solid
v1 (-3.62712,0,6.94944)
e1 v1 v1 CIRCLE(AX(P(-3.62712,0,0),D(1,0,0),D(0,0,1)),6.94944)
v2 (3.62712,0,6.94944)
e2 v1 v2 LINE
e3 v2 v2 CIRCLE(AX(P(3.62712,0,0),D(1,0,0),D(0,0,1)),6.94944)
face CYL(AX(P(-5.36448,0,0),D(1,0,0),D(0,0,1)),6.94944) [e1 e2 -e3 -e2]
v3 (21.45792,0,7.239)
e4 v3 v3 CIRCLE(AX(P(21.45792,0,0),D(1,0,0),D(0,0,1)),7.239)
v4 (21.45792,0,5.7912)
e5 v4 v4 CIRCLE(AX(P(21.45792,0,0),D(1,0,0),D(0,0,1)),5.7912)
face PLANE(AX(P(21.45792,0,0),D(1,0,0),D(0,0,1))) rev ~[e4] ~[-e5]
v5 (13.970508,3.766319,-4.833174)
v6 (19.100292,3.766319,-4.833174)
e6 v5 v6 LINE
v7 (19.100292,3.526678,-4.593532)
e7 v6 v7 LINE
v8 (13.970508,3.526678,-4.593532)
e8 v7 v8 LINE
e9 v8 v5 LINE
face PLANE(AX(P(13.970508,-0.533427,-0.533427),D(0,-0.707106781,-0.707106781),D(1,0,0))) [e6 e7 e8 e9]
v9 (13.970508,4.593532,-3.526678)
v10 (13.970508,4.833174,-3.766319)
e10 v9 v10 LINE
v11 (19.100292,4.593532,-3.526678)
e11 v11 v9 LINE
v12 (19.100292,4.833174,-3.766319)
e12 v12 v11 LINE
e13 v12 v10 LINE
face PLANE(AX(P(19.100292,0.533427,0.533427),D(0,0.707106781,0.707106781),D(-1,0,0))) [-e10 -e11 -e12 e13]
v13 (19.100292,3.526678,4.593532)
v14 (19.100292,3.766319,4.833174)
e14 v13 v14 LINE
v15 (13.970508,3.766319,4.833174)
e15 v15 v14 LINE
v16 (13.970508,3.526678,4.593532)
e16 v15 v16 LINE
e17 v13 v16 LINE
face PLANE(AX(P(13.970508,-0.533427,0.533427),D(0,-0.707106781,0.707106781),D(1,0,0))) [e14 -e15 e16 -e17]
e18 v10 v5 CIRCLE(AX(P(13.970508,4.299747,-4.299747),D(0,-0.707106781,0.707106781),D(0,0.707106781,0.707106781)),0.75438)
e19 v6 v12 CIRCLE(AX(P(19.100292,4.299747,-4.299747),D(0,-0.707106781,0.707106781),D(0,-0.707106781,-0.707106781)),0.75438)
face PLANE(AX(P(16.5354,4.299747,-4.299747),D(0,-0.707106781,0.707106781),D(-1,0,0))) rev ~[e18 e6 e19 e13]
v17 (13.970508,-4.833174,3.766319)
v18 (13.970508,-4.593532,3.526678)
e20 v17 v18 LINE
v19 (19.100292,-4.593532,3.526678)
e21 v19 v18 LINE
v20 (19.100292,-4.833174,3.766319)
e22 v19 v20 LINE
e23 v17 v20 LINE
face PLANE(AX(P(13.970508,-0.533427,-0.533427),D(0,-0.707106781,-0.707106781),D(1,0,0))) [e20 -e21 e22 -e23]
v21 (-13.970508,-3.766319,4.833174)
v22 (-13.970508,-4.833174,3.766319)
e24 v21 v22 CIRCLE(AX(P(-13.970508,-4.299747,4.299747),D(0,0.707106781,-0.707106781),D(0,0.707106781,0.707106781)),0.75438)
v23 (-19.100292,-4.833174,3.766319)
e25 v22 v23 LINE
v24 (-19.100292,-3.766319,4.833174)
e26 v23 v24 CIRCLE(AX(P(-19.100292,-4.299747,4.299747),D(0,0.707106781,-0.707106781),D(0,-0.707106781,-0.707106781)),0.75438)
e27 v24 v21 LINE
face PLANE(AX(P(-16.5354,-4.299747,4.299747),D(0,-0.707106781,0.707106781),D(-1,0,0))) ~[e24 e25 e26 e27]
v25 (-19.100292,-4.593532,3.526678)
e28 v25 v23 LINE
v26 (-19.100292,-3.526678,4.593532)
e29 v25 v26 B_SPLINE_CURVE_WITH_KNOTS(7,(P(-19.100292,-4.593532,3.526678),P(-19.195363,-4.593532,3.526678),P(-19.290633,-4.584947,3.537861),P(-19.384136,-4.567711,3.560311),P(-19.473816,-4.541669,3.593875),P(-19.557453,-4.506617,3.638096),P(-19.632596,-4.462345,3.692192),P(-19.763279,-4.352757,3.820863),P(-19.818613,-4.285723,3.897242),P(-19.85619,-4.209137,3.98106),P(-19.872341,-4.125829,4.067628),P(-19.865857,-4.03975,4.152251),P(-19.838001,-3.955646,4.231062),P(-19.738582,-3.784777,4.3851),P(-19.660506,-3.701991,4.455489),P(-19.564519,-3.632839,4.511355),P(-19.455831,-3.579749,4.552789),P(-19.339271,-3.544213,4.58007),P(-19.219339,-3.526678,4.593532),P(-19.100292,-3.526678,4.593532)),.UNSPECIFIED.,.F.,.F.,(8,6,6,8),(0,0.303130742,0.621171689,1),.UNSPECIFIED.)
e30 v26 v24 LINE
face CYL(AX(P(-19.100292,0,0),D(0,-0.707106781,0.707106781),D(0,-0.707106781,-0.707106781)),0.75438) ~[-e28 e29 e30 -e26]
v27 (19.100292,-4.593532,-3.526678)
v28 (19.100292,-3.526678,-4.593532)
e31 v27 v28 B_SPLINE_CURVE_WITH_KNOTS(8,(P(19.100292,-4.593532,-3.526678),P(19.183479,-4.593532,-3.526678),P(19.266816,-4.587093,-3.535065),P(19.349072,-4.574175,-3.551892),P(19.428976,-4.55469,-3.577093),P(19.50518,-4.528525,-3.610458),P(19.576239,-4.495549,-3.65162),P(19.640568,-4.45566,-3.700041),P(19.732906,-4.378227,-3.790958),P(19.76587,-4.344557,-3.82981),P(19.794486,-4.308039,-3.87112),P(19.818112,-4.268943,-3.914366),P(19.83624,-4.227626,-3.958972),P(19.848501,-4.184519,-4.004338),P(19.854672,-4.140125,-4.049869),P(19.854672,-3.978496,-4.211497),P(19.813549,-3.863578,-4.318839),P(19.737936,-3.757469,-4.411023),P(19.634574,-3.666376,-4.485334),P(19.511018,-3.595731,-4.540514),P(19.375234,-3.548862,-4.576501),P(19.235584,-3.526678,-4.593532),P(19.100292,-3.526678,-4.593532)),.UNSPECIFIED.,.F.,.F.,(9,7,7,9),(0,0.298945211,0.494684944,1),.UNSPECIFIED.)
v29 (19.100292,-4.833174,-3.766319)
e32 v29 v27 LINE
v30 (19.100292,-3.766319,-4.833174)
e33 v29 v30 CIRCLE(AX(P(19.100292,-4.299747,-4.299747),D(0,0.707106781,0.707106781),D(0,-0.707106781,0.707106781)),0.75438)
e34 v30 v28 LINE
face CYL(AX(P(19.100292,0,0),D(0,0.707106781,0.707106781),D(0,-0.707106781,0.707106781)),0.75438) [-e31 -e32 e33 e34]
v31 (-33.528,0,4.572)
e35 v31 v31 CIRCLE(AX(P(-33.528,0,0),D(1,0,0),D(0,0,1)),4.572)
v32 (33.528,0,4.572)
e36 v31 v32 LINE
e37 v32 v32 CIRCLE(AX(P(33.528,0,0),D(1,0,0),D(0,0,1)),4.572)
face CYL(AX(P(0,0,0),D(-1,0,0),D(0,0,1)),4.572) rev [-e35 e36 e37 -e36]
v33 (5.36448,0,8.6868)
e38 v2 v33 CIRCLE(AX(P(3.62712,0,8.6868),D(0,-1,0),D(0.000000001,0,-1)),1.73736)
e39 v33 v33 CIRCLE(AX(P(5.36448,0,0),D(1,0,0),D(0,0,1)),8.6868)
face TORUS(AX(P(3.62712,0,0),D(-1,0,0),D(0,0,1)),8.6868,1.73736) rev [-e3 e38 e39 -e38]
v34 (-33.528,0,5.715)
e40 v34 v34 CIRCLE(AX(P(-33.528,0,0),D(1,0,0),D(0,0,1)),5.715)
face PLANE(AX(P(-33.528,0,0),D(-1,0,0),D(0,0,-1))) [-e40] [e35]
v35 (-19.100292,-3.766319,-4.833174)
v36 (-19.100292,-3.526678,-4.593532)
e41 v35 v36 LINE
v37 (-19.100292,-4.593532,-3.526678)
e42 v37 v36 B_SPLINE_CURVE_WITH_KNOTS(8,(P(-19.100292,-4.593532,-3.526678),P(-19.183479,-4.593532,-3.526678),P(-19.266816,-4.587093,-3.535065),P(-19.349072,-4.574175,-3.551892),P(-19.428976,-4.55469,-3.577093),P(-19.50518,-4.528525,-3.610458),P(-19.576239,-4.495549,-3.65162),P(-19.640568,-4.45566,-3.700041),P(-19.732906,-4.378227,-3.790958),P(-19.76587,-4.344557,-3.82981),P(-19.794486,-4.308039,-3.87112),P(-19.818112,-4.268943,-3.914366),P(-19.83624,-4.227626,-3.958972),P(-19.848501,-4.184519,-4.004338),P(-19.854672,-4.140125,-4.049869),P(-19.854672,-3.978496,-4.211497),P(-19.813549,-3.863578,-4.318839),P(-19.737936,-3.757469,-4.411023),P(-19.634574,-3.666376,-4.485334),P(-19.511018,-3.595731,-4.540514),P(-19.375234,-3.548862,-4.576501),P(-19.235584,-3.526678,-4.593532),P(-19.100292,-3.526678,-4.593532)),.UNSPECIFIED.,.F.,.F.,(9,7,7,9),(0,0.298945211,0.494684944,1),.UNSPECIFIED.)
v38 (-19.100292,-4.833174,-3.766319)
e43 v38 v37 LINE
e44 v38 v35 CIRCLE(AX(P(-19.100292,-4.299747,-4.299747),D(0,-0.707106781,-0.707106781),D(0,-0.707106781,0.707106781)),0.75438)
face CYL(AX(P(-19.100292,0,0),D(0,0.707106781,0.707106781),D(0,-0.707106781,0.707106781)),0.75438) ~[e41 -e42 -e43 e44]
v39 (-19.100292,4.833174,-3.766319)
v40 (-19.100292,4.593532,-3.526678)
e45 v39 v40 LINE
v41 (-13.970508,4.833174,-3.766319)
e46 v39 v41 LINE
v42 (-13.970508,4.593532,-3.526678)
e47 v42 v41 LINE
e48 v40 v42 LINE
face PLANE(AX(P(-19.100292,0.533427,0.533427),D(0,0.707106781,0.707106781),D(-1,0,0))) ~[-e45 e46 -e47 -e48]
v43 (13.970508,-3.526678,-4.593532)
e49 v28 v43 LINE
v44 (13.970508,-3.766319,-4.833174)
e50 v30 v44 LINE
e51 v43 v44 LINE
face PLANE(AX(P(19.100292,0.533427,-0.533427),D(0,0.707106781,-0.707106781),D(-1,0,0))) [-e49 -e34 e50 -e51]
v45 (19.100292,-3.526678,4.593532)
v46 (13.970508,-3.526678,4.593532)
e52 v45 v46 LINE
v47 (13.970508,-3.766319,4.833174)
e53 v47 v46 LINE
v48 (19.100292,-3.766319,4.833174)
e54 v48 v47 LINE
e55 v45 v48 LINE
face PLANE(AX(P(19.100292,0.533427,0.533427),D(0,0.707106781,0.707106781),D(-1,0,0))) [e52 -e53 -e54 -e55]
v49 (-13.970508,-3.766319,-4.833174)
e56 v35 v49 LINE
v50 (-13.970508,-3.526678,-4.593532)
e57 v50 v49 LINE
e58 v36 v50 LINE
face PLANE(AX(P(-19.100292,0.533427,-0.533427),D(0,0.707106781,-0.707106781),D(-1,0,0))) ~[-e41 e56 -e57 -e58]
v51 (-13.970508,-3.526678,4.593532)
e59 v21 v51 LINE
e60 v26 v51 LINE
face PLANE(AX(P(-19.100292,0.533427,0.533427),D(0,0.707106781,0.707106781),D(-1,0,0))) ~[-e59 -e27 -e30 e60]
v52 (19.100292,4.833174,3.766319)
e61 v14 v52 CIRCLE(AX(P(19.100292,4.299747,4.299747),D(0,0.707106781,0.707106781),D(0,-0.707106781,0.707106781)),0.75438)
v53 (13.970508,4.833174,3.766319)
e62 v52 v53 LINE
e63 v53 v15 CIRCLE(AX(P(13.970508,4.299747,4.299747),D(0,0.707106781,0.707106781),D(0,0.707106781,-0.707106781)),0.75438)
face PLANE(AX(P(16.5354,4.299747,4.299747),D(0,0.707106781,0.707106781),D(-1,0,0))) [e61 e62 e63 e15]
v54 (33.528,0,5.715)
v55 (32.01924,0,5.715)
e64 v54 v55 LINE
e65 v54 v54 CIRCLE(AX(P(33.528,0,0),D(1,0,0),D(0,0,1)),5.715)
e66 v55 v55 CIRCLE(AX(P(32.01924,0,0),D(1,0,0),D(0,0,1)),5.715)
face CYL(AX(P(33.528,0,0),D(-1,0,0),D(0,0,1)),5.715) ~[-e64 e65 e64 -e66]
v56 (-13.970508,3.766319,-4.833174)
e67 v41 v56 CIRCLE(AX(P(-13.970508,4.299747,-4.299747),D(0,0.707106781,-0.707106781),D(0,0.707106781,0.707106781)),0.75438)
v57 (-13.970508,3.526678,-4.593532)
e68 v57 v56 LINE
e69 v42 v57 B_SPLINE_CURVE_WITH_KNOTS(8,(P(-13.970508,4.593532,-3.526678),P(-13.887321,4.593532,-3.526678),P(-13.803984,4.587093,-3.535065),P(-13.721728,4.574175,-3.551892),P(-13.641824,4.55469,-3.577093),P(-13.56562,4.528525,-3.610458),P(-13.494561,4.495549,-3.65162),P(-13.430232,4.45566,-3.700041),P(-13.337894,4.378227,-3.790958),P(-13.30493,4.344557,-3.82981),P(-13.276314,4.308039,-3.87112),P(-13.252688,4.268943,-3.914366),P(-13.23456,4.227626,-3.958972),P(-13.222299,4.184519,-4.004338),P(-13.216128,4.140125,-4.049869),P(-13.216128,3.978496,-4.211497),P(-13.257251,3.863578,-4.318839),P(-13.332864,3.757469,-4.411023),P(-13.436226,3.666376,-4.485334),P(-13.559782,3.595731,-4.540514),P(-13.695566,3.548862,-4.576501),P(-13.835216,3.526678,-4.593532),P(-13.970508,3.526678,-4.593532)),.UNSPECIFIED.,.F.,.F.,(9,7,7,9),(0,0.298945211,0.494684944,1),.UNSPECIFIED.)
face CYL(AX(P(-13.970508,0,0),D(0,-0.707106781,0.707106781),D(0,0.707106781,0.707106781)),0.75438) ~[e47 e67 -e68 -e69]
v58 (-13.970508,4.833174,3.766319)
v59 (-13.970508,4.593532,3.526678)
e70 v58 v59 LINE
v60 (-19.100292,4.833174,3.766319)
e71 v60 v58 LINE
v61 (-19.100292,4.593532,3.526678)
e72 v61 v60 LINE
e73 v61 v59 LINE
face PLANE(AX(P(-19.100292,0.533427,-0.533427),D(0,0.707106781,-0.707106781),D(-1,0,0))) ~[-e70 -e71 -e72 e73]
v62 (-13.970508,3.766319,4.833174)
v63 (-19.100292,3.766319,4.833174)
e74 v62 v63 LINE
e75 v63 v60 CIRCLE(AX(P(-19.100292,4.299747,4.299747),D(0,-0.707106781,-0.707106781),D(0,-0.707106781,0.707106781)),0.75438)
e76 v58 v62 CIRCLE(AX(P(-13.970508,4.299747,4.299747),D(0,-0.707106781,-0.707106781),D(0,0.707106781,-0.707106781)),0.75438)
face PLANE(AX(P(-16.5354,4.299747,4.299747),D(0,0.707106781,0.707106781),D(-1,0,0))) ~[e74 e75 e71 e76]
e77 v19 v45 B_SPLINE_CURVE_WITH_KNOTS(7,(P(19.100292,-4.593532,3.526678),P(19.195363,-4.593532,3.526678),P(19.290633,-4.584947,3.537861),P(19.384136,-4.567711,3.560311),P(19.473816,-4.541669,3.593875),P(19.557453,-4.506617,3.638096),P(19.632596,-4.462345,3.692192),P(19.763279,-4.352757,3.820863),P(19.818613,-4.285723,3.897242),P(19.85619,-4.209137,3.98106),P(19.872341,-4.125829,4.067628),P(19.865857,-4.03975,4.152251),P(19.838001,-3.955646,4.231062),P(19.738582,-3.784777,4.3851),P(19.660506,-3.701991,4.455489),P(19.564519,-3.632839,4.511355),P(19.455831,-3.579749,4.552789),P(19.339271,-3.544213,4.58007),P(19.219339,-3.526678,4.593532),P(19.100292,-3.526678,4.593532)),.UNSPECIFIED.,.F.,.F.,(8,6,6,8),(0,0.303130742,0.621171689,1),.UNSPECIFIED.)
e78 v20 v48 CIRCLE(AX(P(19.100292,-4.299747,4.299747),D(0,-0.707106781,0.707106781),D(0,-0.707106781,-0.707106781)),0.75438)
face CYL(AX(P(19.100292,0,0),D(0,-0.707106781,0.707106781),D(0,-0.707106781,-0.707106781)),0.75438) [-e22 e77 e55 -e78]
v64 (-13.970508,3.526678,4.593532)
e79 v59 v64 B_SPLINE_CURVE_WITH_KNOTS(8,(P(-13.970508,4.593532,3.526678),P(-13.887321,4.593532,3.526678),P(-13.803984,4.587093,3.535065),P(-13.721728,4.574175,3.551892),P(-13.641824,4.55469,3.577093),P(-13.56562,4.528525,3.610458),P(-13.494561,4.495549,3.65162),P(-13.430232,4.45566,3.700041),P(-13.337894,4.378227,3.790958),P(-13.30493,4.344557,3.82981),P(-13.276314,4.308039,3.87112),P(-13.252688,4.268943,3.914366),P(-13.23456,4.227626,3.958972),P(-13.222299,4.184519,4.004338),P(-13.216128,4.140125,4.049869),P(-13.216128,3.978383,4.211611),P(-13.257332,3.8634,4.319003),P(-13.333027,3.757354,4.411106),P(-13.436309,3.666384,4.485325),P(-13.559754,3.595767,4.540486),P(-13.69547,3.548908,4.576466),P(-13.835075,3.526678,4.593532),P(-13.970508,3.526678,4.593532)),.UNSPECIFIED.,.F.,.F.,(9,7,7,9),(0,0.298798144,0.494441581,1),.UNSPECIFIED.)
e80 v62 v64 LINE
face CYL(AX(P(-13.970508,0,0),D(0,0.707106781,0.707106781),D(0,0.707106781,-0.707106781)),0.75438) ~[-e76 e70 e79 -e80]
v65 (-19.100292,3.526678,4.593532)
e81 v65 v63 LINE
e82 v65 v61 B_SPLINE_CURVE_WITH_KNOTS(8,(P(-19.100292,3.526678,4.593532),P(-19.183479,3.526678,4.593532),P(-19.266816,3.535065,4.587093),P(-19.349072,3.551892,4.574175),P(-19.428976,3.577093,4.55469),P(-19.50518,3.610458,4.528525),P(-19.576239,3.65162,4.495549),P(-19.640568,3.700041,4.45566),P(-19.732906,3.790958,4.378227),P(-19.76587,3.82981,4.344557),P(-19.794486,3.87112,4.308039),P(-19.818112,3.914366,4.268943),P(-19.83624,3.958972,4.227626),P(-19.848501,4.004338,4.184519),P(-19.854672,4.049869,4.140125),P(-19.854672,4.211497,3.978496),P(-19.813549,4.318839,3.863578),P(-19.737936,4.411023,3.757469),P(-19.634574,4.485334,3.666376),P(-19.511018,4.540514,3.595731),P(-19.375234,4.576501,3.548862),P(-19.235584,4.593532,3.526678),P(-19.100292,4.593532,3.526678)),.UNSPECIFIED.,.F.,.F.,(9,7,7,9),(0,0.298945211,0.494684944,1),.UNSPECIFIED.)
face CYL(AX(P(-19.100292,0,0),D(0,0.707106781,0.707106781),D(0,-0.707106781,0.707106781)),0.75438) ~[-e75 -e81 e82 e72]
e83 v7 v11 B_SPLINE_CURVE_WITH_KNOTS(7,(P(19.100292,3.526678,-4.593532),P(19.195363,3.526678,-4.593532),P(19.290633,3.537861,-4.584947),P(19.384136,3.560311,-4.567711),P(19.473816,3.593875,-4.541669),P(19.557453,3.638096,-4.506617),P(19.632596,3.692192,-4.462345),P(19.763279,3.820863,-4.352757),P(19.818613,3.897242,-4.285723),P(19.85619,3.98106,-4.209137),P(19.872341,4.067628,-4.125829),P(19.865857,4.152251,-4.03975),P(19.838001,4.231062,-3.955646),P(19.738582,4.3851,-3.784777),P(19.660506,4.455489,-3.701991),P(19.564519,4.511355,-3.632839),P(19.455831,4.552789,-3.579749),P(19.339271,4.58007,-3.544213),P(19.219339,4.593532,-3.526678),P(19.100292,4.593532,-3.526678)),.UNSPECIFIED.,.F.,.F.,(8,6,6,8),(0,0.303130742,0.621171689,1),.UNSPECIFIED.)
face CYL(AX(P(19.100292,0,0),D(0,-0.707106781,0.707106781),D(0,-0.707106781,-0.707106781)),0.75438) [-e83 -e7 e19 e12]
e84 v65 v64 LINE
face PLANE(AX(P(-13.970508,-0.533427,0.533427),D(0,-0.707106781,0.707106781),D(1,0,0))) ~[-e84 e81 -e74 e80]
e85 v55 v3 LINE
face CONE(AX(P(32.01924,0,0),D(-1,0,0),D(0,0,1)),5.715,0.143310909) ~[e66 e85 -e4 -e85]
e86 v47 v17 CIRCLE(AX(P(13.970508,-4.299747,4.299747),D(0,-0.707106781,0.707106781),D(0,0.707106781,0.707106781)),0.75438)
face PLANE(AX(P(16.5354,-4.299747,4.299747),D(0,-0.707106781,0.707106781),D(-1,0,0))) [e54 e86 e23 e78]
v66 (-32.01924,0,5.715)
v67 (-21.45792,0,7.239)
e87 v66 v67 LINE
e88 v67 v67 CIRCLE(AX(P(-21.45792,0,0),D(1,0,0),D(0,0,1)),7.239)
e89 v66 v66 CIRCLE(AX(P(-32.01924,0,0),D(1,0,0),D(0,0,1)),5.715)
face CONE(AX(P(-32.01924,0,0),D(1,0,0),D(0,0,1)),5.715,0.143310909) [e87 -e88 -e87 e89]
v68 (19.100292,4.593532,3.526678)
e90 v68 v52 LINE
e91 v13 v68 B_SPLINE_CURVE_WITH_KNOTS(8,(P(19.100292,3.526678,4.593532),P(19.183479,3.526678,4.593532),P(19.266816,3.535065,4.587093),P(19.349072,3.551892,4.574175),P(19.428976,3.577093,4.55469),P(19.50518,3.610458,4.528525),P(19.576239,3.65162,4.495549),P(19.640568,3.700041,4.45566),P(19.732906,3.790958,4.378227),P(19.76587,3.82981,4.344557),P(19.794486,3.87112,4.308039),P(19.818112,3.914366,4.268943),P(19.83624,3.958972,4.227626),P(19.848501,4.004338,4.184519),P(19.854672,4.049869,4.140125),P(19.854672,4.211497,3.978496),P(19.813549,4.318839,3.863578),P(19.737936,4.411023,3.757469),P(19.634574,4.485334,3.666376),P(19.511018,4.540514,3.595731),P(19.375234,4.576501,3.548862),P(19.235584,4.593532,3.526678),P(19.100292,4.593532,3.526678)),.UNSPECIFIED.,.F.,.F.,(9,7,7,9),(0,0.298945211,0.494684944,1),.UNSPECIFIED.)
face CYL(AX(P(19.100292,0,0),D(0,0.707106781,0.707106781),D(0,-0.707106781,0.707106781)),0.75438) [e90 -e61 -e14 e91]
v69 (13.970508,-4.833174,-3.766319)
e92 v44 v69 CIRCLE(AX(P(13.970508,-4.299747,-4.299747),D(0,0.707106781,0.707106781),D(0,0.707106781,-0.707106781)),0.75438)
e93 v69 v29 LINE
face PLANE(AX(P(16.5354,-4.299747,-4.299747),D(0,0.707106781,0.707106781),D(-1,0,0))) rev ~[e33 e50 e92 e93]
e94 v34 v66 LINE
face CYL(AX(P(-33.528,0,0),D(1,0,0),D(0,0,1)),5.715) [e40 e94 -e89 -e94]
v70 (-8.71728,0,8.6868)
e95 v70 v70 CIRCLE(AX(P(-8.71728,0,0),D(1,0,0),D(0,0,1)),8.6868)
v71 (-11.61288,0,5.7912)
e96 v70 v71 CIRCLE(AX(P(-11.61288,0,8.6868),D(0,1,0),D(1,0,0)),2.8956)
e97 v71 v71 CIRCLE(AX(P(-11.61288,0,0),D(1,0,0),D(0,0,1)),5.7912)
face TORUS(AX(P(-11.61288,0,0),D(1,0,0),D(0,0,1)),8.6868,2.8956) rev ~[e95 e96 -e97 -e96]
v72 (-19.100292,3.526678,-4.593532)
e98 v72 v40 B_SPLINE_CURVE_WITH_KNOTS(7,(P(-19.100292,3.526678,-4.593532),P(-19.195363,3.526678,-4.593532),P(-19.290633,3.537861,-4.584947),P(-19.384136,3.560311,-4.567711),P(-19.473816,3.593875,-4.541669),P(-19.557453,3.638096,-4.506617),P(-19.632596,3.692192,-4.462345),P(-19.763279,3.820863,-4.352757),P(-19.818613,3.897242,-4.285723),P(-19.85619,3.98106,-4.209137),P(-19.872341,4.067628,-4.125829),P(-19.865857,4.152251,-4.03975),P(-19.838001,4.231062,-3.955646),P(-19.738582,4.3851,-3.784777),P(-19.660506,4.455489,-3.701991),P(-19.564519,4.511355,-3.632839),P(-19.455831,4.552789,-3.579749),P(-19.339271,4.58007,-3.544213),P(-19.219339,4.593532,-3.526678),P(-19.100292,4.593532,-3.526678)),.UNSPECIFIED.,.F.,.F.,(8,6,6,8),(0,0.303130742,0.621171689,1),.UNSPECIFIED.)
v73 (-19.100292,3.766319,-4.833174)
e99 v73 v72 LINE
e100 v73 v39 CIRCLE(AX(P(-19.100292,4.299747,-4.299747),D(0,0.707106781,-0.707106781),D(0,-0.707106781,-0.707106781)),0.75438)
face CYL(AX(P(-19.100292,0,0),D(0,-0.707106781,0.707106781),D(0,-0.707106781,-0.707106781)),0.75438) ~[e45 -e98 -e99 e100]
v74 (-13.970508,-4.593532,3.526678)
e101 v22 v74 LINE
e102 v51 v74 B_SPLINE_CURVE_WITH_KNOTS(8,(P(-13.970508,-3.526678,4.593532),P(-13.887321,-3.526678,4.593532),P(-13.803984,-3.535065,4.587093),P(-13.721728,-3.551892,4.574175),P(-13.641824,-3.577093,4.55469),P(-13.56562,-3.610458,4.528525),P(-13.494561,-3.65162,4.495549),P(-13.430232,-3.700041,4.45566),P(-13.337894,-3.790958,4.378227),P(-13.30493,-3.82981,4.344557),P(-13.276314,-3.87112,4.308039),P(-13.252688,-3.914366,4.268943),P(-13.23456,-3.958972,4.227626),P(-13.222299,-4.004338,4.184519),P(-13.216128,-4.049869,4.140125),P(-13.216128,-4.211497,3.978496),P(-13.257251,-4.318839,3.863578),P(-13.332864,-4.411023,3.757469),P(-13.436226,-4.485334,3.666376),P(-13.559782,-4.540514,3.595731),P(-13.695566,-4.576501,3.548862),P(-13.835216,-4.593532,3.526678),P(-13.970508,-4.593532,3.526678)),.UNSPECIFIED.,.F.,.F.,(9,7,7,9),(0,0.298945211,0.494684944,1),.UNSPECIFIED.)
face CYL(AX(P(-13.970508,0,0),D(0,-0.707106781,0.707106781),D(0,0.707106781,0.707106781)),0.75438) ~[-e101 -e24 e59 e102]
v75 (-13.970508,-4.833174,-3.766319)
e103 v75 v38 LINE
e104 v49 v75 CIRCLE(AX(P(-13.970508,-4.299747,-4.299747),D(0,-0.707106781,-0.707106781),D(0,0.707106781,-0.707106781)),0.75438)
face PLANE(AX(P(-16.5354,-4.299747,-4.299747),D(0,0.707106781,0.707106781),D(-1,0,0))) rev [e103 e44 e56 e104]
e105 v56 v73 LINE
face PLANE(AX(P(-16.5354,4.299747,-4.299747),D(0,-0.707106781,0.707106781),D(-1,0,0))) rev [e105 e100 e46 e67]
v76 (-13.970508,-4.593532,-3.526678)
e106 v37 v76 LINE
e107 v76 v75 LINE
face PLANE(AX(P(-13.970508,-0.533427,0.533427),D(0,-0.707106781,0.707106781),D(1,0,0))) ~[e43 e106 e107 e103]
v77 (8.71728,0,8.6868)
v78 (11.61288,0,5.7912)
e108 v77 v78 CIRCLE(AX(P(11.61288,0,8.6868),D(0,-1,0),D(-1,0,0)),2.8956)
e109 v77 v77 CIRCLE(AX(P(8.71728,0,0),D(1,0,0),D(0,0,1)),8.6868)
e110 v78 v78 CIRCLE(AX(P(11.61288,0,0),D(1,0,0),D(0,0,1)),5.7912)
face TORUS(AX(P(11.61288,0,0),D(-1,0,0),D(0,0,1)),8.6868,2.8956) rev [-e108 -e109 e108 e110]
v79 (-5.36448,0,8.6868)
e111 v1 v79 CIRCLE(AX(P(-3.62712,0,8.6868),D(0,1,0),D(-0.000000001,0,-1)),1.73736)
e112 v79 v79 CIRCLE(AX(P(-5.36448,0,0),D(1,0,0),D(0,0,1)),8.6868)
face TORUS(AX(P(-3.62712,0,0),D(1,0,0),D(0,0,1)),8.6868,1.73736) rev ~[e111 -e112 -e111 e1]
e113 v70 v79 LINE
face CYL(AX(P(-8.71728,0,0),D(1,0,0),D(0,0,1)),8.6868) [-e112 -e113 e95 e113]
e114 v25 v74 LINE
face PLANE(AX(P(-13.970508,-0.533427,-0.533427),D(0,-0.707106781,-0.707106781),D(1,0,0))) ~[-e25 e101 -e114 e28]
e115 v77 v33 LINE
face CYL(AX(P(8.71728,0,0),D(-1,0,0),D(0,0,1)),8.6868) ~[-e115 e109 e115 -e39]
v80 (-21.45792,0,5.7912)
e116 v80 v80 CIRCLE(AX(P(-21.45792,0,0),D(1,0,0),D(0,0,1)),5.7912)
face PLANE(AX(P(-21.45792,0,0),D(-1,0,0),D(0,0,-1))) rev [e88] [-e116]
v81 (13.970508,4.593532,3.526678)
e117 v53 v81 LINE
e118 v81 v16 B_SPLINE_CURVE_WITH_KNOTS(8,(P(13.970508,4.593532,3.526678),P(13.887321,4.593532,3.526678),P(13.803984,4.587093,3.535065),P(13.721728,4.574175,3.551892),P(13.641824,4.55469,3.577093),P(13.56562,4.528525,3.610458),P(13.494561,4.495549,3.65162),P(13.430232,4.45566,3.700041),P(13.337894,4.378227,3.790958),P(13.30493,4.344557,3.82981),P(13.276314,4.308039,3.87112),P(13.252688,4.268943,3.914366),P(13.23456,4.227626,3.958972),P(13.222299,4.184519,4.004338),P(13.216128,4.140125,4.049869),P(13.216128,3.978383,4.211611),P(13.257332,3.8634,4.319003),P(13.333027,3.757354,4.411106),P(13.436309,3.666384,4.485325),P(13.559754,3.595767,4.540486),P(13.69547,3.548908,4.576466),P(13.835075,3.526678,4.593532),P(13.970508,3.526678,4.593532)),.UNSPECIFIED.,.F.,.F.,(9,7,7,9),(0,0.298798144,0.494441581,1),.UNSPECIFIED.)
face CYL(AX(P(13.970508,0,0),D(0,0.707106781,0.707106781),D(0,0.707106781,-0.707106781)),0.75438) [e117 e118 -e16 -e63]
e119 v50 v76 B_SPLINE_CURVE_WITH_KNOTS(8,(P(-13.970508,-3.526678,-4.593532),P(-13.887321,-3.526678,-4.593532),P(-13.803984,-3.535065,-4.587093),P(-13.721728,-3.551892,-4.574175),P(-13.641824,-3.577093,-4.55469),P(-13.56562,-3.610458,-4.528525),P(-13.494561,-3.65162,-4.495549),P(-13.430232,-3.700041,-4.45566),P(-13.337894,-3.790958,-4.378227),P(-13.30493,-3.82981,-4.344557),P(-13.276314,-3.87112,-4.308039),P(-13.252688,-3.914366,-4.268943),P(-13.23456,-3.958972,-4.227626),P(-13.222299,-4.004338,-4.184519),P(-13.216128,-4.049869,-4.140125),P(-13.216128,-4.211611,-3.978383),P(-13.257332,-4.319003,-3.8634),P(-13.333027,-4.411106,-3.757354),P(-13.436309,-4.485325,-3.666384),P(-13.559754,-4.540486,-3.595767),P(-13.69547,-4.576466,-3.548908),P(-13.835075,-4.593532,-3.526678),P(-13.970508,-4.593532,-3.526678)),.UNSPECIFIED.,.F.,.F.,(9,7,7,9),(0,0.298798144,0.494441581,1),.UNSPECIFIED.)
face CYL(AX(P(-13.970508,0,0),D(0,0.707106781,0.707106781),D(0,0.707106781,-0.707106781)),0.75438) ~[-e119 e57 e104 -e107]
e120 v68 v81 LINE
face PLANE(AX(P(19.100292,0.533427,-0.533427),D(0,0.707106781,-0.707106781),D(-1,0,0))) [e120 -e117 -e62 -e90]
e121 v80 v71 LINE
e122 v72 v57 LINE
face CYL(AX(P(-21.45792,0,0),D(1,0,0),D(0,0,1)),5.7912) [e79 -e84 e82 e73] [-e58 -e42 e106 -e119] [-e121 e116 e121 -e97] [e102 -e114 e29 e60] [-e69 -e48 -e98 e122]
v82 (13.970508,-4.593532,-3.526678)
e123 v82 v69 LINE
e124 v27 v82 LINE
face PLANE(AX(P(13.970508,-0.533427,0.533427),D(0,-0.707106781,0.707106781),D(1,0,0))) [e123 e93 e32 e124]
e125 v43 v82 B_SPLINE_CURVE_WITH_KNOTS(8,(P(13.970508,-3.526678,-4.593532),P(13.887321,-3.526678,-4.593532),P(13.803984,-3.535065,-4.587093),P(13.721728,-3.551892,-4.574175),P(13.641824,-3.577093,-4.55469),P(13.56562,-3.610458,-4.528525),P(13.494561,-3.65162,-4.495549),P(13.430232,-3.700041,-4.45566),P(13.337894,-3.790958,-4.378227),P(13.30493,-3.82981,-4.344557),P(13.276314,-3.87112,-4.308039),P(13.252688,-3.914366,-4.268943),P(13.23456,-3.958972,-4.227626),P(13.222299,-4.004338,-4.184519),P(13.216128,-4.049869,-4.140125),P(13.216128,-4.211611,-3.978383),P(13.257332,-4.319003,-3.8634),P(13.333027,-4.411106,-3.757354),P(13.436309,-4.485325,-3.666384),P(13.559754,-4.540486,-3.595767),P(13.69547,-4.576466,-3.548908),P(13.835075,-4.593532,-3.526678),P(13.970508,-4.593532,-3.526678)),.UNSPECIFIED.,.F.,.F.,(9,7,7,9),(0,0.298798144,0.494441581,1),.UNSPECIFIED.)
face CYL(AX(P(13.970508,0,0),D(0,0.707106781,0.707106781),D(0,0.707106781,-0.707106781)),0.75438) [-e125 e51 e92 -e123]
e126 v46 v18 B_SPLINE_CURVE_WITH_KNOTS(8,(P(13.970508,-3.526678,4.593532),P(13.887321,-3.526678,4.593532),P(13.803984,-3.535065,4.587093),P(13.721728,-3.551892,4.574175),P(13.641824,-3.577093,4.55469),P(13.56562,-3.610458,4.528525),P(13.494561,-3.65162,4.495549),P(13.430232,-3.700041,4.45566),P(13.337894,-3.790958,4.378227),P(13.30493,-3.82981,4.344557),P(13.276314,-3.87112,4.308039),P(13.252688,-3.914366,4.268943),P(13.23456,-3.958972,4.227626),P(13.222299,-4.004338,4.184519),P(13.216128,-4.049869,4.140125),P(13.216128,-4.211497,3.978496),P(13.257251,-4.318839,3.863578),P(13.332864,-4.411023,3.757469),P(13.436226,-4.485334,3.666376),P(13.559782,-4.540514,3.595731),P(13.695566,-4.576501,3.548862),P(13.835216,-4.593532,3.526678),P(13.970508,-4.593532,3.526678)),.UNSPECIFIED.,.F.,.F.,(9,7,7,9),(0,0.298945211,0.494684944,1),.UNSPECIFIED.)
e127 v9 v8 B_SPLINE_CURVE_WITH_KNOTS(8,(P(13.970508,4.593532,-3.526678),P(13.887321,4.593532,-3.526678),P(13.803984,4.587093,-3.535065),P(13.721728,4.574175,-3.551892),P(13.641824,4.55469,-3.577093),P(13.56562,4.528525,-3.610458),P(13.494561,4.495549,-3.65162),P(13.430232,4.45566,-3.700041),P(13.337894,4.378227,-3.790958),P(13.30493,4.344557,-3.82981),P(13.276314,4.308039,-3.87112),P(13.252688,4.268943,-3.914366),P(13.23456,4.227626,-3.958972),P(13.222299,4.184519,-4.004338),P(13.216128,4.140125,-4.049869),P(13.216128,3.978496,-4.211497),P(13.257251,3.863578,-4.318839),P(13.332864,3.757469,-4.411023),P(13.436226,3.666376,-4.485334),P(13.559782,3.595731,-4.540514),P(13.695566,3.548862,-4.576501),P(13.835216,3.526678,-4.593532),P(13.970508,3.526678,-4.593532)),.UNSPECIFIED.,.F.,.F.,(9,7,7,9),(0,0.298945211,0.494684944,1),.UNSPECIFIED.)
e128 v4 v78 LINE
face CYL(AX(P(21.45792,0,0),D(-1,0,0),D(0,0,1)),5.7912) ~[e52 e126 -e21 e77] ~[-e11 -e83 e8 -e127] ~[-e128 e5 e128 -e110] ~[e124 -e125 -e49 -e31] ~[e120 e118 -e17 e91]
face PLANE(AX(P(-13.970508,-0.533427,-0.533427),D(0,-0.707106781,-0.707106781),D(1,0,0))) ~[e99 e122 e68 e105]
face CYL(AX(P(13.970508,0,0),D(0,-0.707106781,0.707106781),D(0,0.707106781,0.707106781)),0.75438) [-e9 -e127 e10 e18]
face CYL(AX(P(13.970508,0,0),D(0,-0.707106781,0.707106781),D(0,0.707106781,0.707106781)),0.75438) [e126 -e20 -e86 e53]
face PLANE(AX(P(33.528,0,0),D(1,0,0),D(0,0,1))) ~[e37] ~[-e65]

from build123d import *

# Parameters (mm, degrees)
EXTRUDE1_DEPTH     = 6.08076
CIRPATTERN1_COUNT  = 2
CIRPATTERN1_ANGLE  = 90
SKETCH4_R          = 4.572
CUT_EXTRUDE1_DEPTH = 36.707811179


with BuildPart() as part:
    # Sketch1 → Revolve1 (revolve)
    with BuildSketch(Plane.XY, mode=Mode.PRIVATE) as revolve1_sk:
        Polygon((33.528, 4.572), (33.528, 5.715), (32.01924, 5.715), (21.45792, 7.239), (21.45792, 5.7912), (8.71728, 5.7912), (8.71728, 8.6868), (5.36448, 8.6868), (5.36448, 6.94944), (0, 6.94944), (0, 4.572), align=None)
    revolve(revolve1_sk.sketch.rotate(Axis((0, 0, 0), (1, 0, 0)), 90), axis=Axis((0, 0, 0), (1, 0, 0)))

    # Sketch2 → Revolve2 (revolve)
    with BuildSketch(Plane.XY, mode=Mode.PRIVATE) as revolve2_sk:
        with BuildLine():
            Line((11.61288, 5.7912), (8.71728, 5.7912))
            Line((8.71728, 5.7912), (8.71728, 8.6868))
            ThreePointArc((8.71728, 8.6868), (9.565381604, 6.639301604), (11.61288, 5.7912))
        make_face()
        with BuildLine():
            Line((5.36448, 8.6868), (5.36448, 6.94944))
            Line((5.36448, 6.94944), (3.62712, 6.94944))
            ThreePointArc((3.62712, 6.94944), (4.855619037, 7.458300963), (5.36448, 8.6868))
        make_face()
    revolve(revolve2_sk.sketch.rotate(Axis((0, 0, 0), (1, 0, 0)), 90), axis=Axis((0, 0, 0), (1, 0, 0)))

    # Sketch3 → Extrude1 (add, symmetric)
    with BuildSketch(Plane(origin=(0, 0, 0), x_dir=(-1, 0, 0), z_dir=(0, 0.7071067811865488, 0.7071067811865462))):
        with BuildLine():
            Line((-13.970508, 0.75438), (-19.100292, 0.75438))
            ThreePointArc((-19.100292, 0.75438), (-19.854672, 0), (-19.100292, -0.75438))
            Line((-19.100292, -0.75438), (-13.970508, -0.75438))
            ThreePointArc((-13.970508, -0.75438), (-13.216128, 0), (-13.970508, 0.75438))
        make_face()
    extrude1 = extrude(amount=EXTRUDE1_DEPTH, both=True)

    # CirPattern1: Extrude1 ×2 about axis
    cirpattern1_axis = Axis((0, 0, 0), (1, 0, 0))
    for i in range(1, CIRPATTERN1_COUNT):
        add(extrude1.rotate(cirpattern1_axis, i * CIRPATTERN1_ANGLE / (CIRPATTERN1_COUNT - 1)))

    # Sketch4 → Cut-Extrude1 (cut, through all)
    with BuildSketch(Plane(origin=(33.528, 0, 0), x_dir=(0, 0, -1), z_dir=(1, 0, 0))):
        with Locations(Location((0, 0, 0), (0, 0, 180))):
            Circle(SKETCH4_R)
    extrude(amount=-CUT_EXTRUDE1_DEPTH, mode=Mode.SUBTRACT)

    # Mirror1: part across plane


with BuildPart() as part_1:
    add(part.part)
    add(part.part.mirror(Plane(origin=(0, 0, 0), x_dir=(0, 0, 1), z_dir=(1, 0, 0))))


solid = part_1.part
